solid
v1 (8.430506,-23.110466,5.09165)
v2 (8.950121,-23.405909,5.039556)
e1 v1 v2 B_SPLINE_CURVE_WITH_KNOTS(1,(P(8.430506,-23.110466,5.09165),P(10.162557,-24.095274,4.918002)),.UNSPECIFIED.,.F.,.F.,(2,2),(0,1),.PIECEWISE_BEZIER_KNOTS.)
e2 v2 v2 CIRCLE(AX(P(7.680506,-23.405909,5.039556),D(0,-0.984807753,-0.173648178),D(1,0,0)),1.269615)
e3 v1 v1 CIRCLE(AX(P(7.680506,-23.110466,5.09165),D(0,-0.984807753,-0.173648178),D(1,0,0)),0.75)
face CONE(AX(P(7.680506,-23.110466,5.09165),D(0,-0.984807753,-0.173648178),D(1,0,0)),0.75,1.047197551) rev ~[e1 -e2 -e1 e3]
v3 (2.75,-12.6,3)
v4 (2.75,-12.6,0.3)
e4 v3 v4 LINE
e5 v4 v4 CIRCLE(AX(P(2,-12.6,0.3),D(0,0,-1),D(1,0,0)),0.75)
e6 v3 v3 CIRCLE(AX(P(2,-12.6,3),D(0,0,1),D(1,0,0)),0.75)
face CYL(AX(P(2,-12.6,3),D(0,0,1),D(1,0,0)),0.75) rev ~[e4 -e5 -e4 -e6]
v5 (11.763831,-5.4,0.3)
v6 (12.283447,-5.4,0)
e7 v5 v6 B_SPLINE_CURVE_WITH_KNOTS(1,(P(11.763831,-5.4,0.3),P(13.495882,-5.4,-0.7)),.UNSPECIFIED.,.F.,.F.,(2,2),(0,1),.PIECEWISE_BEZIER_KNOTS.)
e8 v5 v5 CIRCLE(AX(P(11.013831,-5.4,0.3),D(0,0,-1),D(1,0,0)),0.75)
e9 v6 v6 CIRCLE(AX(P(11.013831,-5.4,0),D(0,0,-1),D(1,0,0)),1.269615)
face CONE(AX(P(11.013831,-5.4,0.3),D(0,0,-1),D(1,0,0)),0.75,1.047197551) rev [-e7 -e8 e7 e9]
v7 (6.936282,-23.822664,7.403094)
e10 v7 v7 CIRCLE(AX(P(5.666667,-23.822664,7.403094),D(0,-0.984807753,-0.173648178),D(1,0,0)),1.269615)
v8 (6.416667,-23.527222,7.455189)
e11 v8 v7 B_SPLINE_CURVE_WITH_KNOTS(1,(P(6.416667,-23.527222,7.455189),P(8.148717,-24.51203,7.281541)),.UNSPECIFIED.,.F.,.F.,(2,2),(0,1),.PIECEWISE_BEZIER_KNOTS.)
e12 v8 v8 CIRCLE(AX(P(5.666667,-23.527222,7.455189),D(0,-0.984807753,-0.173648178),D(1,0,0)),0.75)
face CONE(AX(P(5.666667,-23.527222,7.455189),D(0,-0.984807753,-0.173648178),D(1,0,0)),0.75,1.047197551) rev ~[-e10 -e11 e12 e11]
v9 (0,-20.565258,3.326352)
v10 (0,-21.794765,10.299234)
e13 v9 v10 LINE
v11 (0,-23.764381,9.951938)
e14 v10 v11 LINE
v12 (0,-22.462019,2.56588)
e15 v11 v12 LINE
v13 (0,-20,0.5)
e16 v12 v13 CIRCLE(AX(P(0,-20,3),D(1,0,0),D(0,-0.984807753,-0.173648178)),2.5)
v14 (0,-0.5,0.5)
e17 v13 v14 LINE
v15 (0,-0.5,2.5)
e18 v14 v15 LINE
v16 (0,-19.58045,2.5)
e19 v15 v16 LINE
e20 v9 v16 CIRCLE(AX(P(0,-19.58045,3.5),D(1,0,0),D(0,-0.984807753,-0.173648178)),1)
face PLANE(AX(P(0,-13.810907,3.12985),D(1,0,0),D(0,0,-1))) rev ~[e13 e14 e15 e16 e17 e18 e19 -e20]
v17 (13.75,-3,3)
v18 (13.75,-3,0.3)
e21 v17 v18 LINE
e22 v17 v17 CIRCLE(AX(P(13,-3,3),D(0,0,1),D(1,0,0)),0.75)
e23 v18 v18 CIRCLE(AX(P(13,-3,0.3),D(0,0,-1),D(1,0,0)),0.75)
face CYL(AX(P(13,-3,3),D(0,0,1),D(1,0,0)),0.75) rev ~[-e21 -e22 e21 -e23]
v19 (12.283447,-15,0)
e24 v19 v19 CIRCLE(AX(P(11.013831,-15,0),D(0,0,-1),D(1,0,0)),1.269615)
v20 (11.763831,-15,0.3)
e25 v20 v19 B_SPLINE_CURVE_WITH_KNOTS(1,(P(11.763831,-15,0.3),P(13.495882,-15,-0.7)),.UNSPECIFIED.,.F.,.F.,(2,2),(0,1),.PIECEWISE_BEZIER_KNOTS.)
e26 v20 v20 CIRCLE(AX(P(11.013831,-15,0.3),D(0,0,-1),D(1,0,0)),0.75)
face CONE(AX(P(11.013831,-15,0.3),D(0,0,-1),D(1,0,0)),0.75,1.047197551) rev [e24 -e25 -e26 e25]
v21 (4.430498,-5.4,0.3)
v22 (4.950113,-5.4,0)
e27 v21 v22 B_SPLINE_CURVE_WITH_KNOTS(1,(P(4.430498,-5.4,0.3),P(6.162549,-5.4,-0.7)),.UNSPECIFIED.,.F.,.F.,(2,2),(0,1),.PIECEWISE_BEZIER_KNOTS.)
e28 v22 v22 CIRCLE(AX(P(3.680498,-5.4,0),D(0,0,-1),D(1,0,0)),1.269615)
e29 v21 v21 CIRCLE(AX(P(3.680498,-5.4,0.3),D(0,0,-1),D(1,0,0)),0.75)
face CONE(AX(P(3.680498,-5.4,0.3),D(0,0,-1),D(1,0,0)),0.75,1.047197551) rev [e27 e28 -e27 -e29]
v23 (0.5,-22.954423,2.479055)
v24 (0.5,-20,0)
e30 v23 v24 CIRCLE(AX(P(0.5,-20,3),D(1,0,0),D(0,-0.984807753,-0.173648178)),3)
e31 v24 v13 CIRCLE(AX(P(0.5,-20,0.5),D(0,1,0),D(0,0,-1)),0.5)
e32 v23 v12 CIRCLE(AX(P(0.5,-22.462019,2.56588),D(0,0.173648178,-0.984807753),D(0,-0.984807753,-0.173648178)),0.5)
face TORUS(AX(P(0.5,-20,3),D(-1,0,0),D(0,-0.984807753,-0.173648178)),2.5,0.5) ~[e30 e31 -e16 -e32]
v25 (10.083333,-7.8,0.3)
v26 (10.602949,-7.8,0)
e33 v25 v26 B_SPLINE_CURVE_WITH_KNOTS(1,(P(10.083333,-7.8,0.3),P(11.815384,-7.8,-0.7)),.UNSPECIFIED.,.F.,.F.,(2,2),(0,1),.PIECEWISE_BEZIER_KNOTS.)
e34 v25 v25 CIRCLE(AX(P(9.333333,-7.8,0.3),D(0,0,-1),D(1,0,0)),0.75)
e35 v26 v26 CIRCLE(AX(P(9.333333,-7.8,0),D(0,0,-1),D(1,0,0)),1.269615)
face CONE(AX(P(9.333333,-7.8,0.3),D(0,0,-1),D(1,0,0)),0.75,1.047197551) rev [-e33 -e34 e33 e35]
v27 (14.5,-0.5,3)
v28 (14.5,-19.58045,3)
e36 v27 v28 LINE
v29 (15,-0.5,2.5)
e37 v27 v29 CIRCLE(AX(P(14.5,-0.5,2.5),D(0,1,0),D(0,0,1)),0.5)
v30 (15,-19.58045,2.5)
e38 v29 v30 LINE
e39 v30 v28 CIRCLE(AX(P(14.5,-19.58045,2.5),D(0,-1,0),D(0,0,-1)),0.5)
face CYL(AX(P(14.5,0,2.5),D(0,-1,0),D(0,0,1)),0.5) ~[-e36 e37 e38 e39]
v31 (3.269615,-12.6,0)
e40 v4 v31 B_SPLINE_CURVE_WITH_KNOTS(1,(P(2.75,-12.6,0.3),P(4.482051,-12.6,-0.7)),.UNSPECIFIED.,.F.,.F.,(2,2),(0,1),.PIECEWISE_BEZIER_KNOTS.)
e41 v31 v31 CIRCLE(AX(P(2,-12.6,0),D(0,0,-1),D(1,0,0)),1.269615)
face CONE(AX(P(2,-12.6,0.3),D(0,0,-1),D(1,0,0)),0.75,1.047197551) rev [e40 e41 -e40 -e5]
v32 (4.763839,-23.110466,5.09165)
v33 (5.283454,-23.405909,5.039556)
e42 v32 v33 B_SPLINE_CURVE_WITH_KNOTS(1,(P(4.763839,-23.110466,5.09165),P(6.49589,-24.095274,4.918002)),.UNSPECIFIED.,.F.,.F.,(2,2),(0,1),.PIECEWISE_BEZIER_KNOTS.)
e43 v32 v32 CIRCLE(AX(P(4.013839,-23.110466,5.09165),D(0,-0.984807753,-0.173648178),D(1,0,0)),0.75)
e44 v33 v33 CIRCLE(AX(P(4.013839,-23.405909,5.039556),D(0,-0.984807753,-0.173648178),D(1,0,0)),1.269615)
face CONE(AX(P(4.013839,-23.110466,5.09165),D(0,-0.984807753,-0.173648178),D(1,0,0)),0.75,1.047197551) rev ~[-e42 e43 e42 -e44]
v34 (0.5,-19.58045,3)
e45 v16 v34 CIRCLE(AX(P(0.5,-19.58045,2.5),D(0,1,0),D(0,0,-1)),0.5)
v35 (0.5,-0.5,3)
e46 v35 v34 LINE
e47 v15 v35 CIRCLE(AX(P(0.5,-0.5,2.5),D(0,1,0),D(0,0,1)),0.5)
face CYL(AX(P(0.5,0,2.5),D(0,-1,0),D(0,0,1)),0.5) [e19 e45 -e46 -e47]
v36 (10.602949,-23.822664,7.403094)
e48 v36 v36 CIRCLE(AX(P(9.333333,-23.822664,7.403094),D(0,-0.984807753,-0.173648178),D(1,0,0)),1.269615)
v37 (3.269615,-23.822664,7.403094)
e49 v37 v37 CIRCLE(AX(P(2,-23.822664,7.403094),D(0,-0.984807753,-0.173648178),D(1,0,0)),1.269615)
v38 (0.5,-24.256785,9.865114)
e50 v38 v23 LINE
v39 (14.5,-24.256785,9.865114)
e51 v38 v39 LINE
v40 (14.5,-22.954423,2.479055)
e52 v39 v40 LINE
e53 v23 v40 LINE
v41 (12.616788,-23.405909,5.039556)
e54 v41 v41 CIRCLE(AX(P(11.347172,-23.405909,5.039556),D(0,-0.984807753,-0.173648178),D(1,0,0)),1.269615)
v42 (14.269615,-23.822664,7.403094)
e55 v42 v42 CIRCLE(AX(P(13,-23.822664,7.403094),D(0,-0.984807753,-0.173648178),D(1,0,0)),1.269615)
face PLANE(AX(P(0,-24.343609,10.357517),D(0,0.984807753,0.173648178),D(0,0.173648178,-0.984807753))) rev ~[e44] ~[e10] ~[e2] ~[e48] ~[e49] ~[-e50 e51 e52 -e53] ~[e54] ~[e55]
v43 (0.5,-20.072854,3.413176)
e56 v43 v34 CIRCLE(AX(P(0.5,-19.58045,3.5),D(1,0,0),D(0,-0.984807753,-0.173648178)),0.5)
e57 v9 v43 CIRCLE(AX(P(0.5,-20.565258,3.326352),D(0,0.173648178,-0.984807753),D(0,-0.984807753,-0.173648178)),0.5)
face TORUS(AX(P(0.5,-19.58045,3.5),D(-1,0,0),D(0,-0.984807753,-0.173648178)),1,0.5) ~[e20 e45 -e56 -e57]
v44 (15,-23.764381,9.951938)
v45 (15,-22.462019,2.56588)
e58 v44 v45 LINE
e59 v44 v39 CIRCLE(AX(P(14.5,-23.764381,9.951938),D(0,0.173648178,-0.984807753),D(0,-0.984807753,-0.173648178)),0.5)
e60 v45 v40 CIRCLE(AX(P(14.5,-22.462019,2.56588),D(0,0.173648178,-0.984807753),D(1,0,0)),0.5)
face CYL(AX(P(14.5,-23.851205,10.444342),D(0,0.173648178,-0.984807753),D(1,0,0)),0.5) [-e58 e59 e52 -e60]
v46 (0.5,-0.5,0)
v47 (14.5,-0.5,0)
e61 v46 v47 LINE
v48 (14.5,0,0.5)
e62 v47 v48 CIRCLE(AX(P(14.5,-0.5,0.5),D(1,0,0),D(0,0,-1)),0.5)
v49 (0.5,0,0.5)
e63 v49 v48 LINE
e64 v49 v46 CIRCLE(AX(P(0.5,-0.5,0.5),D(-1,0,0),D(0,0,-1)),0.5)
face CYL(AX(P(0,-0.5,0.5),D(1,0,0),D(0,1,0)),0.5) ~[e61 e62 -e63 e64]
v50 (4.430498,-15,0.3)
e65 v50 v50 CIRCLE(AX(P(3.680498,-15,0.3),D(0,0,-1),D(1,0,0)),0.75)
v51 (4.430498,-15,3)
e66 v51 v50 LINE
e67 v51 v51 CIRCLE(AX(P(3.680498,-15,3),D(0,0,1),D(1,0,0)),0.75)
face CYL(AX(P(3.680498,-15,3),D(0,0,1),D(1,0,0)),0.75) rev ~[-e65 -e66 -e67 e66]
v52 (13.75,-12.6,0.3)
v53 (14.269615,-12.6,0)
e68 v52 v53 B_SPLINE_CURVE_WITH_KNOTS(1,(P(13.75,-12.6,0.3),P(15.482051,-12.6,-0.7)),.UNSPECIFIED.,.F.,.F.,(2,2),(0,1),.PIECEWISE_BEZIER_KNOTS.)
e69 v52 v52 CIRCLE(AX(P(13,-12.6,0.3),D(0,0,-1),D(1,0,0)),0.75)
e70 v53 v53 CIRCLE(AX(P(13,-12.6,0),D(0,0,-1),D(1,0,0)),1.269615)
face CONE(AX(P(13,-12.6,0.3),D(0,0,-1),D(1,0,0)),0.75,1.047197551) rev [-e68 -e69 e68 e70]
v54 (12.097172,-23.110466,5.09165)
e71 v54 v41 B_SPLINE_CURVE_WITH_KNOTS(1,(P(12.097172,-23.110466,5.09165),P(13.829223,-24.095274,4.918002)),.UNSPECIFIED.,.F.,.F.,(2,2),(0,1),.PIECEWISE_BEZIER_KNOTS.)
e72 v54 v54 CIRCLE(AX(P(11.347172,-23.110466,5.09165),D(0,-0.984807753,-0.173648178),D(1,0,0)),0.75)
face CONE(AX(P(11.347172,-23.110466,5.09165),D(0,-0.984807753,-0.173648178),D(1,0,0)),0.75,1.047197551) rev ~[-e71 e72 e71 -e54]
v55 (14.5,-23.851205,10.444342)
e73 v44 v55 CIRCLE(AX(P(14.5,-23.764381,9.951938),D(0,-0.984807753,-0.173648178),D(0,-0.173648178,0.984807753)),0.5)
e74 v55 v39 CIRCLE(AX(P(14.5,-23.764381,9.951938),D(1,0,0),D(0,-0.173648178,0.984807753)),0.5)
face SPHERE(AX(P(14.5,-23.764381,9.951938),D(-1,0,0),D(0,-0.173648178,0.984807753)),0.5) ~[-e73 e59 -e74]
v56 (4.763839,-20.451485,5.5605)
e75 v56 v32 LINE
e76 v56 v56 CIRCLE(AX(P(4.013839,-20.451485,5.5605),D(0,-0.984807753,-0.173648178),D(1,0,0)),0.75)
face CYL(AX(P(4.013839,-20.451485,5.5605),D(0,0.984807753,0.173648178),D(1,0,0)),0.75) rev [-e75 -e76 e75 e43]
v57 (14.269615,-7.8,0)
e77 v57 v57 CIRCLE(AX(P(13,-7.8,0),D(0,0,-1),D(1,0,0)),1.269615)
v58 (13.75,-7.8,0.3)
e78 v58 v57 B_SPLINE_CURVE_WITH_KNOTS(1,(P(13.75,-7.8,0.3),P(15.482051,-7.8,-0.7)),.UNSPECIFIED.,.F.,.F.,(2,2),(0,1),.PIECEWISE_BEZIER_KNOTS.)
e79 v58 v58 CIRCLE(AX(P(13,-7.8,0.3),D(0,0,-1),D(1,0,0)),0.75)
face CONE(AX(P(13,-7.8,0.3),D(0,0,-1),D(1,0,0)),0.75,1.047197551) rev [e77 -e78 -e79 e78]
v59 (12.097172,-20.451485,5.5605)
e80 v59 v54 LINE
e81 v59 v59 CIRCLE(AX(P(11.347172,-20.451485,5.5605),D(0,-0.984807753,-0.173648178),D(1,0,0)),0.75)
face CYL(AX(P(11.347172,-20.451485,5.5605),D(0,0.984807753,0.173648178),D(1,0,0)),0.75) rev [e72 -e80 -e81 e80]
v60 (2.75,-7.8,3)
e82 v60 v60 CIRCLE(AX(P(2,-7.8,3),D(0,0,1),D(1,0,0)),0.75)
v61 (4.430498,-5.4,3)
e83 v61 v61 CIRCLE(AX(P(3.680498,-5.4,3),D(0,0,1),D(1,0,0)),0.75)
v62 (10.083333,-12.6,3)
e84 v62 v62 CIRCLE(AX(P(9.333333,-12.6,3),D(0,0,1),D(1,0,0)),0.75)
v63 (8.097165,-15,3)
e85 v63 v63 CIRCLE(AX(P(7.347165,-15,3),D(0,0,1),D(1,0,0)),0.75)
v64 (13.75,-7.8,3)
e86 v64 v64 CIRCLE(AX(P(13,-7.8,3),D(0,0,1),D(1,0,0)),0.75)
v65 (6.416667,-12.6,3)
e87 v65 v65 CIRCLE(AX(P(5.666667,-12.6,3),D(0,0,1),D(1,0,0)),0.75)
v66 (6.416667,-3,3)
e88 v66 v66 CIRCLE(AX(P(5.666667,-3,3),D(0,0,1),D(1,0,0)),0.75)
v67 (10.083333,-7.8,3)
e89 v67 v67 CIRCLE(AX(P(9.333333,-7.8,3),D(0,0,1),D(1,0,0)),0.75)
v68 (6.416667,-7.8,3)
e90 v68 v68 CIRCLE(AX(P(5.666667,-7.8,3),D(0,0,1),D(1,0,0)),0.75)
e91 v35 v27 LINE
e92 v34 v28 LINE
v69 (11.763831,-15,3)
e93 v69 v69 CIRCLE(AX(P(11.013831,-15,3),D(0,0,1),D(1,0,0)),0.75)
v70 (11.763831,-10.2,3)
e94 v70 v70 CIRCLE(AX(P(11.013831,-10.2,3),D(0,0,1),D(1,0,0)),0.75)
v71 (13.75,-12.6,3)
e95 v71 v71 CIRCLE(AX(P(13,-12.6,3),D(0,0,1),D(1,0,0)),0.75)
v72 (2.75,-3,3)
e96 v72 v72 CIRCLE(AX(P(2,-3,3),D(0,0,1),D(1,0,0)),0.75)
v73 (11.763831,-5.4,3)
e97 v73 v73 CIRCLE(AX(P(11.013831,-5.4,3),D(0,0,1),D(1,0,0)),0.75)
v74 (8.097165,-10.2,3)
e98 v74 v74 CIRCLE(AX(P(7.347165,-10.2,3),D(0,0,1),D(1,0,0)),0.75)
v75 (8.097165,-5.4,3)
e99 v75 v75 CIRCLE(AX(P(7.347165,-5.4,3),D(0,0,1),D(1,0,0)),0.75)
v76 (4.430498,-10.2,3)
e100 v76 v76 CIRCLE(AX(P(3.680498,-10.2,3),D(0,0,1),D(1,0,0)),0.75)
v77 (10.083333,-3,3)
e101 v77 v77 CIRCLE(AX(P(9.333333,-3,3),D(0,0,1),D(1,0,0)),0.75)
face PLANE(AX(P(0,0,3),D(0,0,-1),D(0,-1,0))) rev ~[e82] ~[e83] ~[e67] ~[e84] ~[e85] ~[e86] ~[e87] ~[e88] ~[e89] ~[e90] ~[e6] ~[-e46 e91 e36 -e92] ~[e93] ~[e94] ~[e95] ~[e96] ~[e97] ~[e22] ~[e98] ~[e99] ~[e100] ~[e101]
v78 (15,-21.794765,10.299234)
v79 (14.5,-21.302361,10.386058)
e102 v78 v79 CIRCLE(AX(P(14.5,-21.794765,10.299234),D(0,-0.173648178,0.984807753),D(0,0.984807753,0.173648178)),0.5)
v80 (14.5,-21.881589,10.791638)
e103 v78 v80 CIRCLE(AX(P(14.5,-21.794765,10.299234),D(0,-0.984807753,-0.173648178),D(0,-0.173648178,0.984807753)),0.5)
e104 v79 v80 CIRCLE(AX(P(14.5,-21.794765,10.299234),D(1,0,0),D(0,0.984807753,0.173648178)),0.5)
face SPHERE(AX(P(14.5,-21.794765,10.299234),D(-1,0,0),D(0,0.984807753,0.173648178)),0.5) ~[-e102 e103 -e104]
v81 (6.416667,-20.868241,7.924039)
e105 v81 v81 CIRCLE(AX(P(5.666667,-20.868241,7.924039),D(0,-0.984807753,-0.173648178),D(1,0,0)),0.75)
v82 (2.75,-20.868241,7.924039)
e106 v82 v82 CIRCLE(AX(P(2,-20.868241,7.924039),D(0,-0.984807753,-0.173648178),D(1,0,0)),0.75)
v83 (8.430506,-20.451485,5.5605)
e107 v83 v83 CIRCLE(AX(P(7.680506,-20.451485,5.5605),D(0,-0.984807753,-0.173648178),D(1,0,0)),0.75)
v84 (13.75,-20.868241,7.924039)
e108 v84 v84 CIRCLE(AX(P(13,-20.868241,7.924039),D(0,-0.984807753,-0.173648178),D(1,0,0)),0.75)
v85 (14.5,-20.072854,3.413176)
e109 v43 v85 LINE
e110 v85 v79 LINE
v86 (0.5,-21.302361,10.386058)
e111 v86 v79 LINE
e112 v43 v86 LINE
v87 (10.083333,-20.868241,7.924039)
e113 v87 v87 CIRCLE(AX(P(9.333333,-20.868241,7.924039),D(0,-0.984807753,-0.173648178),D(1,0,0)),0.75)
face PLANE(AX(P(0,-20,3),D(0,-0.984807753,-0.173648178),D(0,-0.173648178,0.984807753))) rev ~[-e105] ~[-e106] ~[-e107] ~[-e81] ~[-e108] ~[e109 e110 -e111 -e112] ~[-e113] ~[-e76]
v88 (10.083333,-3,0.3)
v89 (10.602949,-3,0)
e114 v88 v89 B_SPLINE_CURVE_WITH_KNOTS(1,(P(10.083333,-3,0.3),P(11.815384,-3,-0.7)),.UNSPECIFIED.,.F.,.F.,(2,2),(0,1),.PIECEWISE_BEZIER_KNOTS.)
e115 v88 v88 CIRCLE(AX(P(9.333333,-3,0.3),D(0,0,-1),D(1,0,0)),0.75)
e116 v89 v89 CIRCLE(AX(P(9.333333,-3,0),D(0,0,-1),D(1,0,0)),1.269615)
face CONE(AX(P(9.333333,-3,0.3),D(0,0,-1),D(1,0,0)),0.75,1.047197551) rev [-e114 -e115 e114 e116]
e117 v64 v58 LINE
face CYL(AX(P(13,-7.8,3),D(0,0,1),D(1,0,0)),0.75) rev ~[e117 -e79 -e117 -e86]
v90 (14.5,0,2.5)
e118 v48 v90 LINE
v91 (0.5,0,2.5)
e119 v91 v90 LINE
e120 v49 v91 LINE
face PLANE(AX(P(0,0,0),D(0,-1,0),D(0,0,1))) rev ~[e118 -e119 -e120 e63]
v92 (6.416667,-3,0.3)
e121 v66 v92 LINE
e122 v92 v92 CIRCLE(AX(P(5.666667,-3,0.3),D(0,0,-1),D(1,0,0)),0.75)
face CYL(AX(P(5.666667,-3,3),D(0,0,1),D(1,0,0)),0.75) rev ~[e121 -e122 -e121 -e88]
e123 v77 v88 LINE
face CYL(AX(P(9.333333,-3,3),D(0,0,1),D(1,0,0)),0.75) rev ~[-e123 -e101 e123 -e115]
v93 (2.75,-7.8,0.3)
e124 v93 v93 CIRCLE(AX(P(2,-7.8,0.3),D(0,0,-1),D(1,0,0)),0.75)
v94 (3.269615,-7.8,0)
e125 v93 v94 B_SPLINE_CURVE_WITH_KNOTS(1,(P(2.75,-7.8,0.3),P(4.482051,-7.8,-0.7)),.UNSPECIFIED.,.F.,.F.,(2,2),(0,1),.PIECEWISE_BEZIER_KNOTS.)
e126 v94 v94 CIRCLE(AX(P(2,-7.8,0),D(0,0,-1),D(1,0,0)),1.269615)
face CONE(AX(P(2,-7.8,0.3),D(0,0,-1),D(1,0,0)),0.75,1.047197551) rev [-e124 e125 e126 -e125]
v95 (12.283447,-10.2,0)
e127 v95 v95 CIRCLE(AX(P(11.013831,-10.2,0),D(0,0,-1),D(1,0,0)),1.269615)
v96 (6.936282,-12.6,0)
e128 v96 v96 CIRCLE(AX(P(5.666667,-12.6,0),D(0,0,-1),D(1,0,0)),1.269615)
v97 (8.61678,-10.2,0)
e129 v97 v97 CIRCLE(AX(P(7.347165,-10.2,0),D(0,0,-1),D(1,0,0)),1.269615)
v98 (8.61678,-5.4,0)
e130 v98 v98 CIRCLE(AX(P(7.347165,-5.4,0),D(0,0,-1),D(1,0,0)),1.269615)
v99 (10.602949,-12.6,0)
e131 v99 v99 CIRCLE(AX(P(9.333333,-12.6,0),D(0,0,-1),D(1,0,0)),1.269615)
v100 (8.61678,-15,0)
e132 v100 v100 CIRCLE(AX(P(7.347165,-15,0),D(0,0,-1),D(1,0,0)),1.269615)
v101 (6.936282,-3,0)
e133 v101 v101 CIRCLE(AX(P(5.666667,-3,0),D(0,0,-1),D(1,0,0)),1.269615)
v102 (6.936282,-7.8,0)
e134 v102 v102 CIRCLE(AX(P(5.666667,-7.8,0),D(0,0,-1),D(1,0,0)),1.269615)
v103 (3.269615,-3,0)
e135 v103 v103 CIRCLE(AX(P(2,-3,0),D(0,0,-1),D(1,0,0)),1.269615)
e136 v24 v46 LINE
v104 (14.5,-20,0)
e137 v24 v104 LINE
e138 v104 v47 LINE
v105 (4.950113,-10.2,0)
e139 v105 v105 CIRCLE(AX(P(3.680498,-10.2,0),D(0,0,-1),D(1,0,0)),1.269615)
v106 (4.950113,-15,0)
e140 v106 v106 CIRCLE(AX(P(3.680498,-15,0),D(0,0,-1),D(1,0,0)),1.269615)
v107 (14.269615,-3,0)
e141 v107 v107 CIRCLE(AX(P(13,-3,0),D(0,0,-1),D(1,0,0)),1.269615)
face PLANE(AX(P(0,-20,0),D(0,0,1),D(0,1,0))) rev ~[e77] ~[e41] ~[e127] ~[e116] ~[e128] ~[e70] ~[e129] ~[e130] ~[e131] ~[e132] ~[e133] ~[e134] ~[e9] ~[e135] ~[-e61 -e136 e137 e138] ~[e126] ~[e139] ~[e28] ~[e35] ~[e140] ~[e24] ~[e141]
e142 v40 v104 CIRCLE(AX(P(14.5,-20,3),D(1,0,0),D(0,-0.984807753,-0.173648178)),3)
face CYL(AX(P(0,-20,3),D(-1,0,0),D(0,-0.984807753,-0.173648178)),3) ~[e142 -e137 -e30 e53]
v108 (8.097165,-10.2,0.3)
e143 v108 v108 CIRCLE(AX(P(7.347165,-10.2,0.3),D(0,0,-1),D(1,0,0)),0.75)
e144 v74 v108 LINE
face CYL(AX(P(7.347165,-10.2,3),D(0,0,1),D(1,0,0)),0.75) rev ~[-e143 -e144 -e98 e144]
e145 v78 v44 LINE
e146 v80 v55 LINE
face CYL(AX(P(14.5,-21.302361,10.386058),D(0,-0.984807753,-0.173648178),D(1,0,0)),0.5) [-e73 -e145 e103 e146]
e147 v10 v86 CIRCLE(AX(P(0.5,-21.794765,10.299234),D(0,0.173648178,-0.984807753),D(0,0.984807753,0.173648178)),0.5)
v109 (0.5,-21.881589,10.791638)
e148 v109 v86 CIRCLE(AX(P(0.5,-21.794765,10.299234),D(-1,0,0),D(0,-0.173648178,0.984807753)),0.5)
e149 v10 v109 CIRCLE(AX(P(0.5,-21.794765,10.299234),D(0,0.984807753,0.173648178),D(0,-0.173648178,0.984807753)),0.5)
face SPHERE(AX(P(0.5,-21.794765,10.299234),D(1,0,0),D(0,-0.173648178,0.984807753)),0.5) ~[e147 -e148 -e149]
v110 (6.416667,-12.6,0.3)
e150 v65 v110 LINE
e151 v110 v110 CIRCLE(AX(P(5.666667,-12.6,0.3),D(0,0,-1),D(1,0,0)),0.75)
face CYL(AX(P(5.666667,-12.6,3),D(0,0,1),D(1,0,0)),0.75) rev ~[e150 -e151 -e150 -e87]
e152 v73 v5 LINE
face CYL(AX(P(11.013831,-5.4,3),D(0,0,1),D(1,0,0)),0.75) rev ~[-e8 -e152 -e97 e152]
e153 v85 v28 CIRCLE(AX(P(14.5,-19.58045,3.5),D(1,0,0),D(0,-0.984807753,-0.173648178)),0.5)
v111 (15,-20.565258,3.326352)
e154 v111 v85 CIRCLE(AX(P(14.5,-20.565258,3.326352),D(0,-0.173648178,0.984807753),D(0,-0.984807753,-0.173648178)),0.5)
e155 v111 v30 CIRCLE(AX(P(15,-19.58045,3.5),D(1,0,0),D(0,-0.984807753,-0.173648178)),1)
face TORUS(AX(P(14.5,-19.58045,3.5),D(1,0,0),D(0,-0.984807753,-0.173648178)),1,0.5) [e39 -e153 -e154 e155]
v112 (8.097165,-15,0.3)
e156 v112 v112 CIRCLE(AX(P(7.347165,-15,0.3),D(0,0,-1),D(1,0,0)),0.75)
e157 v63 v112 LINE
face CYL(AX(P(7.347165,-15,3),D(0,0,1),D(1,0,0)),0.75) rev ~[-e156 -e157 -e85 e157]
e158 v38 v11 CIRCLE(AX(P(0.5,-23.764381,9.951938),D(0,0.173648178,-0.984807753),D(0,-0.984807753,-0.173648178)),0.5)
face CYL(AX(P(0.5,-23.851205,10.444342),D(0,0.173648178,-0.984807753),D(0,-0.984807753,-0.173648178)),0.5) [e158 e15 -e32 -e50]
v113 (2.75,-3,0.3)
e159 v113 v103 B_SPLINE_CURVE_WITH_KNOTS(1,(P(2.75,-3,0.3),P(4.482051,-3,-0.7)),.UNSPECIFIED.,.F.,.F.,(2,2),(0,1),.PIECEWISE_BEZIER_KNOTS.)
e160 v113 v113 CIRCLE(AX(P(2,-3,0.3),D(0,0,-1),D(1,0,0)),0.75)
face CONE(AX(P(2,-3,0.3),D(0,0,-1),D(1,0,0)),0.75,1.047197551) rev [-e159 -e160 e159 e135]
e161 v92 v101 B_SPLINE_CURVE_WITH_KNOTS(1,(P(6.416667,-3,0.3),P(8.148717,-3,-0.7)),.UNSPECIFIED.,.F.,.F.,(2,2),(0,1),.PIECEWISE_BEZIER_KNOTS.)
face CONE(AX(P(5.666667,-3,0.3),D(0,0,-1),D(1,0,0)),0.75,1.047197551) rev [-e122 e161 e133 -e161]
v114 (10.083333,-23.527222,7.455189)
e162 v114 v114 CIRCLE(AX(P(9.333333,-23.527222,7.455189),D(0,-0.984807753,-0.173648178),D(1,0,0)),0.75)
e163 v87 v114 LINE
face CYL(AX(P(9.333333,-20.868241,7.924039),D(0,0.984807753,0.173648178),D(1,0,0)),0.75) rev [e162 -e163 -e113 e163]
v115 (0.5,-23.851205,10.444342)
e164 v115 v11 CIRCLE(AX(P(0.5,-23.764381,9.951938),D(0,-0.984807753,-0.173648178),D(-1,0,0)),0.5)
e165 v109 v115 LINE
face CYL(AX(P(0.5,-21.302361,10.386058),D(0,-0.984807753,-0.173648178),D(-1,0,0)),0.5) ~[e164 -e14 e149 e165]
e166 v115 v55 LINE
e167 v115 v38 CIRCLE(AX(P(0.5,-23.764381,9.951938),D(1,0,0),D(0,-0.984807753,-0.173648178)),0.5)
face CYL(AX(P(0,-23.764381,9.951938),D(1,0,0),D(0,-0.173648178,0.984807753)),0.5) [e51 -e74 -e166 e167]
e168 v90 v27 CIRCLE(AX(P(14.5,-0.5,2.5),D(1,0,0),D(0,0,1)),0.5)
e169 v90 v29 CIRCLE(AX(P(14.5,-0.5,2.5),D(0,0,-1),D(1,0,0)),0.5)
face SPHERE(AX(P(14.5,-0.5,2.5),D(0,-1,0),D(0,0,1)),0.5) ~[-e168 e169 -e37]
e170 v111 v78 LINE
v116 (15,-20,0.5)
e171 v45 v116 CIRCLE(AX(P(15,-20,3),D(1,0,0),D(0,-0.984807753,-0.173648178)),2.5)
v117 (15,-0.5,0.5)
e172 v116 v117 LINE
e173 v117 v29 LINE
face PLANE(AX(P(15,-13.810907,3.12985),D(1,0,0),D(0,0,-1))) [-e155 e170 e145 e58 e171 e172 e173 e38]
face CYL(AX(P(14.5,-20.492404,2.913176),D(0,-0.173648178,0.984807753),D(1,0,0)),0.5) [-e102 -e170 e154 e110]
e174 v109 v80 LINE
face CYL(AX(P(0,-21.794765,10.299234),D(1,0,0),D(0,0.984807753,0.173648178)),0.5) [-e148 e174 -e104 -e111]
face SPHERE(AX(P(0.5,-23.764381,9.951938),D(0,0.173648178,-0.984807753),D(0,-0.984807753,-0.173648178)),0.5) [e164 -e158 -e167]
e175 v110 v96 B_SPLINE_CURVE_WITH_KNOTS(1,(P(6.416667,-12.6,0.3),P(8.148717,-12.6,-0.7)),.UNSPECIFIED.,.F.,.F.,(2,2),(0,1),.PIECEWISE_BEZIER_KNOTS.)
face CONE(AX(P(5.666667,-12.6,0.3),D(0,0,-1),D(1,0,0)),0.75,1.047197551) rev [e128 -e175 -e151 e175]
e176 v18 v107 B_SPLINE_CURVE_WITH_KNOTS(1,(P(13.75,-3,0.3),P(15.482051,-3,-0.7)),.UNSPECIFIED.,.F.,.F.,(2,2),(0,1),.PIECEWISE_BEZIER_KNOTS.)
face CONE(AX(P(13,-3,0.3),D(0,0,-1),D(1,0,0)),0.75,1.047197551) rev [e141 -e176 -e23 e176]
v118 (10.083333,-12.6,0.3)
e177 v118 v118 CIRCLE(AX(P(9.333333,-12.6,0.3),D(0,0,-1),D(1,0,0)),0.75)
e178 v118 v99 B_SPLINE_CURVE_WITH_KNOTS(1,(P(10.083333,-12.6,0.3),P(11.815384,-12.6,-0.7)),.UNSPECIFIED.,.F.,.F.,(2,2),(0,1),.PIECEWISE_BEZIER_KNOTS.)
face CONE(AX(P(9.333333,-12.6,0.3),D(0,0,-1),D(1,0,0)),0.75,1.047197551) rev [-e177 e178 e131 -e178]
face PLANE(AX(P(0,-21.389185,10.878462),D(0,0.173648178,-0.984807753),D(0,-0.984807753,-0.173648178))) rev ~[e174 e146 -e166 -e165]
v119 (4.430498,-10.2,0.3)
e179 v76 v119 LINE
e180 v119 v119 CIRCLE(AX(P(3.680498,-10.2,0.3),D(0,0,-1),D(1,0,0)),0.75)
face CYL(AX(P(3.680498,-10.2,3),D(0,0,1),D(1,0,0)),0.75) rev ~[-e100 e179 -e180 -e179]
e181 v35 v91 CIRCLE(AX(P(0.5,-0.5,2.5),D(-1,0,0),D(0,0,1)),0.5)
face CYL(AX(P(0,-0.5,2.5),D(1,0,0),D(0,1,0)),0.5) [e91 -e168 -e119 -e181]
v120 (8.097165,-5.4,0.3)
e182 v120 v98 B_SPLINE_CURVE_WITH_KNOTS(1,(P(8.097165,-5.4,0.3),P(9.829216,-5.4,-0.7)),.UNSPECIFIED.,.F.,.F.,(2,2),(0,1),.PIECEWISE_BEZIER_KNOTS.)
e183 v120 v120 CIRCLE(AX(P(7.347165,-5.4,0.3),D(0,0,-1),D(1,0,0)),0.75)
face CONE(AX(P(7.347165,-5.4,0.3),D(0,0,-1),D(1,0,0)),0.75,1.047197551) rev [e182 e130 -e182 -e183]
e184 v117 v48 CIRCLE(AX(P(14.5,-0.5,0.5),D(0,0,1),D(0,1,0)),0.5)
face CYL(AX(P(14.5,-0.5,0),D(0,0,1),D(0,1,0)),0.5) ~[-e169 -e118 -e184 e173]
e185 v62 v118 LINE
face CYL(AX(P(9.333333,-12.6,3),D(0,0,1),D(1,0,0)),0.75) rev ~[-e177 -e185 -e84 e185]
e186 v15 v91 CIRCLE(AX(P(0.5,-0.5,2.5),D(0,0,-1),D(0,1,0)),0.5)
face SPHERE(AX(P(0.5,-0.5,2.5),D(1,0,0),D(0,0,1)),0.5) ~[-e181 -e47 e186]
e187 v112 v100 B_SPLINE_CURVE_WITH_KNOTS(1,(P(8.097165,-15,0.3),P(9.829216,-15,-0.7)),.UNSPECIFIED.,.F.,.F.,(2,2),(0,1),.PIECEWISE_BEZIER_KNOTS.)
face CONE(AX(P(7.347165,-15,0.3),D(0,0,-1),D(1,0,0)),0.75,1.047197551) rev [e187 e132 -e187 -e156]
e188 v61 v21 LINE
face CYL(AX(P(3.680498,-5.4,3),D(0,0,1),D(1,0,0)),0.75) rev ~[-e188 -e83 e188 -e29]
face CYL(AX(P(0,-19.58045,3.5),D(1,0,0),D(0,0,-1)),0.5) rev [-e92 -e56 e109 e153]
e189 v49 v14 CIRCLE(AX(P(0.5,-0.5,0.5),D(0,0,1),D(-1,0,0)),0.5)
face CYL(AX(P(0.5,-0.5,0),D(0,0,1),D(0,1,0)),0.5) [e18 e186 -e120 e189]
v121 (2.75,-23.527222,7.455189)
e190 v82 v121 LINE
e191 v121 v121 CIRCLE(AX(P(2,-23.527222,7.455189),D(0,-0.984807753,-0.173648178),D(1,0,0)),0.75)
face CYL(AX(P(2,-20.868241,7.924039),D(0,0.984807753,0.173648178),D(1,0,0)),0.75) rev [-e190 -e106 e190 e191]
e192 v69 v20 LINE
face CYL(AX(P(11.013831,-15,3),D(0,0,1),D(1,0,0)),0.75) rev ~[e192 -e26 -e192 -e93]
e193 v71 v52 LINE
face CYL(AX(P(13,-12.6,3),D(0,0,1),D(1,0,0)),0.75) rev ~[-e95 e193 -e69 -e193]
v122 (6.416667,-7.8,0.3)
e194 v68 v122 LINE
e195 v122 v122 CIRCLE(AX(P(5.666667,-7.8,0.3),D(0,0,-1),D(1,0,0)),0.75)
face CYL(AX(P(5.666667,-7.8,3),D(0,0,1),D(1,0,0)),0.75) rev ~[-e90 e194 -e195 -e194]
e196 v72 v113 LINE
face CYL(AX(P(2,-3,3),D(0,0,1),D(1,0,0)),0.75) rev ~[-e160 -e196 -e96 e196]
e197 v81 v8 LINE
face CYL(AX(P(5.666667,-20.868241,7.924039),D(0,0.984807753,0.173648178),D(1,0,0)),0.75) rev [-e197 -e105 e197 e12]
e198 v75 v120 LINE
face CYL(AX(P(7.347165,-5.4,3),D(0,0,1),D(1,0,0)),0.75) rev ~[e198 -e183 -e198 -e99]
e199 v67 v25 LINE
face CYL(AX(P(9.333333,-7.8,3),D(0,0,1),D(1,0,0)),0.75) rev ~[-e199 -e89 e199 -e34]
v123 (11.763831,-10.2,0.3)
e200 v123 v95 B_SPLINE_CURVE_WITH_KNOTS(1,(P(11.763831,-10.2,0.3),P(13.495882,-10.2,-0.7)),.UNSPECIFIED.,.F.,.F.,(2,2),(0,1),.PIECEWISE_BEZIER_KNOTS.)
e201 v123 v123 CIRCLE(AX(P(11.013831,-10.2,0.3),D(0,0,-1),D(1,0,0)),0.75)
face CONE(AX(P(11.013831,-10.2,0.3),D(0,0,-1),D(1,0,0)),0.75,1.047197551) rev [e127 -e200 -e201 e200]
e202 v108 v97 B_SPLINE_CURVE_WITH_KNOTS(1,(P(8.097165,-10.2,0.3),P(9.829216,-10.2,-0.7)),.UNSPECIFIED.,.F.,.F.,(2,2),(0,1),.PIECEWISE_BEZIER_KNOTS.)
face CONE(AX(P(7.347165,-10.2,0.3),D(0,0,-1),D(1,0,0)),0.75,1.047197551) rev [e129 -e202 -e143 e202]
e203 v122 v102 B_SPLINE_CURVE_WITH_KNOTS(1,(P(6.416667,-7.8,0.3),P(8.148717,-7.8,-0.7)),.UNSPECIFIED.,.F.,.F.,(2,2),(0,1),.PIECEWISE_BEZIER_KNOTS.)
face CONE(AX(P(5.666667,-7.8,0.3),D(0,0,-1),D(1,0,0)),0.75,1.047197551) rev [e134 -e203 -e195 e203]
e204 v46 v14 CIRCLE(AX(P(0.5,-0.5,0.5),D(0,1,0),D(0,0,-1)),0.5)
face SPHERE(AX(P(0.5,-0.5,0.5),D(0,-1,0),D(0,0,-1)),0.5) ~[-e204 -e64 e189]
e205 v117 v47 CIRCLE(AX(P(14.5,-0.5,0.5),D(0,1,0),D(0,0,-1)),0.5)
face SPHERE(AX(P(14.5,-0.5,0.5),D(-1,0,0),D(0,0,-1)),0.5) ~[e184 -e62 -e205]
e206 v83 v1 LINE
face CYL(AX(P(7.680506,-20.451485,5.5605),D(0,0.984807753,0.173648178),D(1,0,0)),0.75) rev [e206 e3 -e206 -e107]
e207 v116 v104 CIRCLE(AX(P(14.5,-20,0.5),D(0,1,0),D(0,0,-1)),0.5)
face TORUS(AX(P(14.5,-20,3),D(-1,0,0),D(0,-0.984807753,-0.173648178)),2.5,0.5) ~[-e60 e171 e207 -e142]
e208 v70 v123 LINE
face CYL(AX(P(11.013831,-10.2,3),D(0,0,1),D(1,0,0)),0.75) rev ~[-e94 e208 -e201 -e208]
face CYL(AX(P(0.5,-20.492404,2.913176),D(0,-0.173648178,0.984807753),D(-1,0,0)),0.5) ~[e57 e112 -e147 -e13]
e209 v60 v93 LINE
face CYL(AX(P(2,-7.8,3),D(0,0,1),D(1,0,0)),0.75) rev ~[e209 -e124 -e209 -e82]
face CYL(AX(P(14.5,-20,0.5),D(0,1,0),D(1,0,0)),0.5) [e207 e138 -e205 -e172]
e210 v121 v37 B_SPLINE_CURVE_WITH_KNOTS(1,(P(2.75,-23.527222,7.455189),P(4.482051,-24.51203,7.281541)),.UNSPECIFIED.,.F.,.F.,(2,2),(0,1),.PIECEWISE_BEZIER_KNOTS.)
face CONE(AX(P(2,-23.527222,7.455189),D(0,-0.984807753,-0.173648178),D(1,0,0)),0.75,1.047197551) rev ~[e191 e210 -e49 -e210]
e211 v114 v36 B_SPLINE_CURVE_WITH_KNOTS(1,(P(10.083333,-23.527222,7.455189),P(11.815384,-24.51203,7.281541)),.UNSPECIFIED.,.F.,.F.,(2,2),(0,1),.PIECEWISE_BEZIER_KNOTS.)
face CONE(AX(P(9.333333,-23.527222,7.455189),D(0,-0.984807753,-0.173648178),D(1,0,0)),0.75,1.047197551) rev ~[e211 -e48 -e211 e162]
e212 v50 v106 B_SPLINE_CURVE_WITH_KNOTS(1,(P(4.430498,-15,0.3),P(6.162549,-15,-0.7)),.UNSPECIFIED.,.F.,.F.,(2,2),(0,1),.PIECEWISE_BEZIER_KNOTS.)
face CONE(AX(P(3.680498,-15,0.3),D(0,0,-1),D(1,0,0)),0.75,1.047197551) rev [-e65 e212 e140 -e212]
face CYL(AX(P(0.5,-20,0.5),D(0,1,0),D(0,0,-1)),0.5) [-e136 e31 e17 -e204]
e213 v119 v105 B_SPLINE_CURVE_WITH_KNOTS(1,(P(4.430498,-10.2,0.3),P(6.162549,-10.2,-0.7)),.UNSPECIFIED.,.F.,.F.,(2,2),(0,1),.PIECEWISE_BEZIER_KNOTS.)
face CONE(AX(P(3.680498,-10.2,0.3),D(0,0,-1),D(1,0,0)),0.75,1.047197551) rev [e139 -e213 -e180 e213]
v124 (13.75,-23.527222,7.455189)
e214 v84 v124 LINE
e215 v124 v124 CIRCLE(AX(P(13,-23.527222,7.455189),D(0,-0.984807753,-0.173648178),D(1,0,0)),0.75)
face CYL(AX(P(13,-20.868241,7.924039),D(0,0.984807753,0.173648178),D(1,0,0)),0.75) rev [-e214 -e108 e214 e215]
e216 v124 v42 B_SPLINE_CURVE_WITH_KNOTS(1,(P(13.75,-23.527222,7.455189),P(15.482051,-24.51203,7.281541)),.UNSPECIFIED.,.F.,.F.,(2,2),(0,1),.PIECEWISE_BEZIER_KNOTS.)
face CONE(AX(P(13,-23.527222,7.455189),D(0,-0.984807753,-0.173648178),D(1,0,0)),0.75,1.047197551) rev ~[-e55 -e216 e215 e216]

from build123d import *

# Parameters (mm, degrees)
EXTRUDE_1_DEPTH     = 15
SKETCH_2_R          = 0.75
CUT_EXTRUDE_1_DEPTH = 15
SKETCH_3_R          = 0.75
CUT_EXTRUDE_2_DEPTH = 15
CUT_EXTRUDE_START   = -2.7
SKETCH_2_2_R        = 0.75
CUT_EXTRUDE_3_DEPTH = 1
CUT_EXTRUDE_3_TAPER = -60
CUT_EXTRUDE_START_2 = 2.7
SKETCH_3_2_R        = 0.75
CUT_EXTRUDE_4_DEPTH = 1
CUT_EXTRUDE_4_TAPER = -60
FILLET_1_R          = 0.5


with BuildPart() as part:
    # Sketch 1 → Extrude 1 (new body)
    with BuildSketch(Plane(origin=(0, 0, 0), x_dir=(0, 0, -1), z_dir=(1, 0, 0))):
        with BuildLine():
            Line((0, 0), (-3, 0))
            Line((-3, 0), (-3, -20))
            Line((-3, -20), (-10.878462024, -21.389185421))
            Line((-10.878462024, -21.389185421), (-10.357517491, -24.34360868))
            Line((-10.357517491, -24.34360868), (-2.479055467, -22.954423259))
            ThreePointArc((-2.479055467, -22.954423259), (-0.701866671, -21.928362829), (0, -20))
            Line((0, -20), (0, 0))
        make_face()
    extrude(amount=EXTRUDE_1_DEPTH)

    # Sketch 2 → Cut-Extrude 1 (cut)
    with BuildSketch(Plane.XY.offset(3)):
        with Locations((2, -3)):
            Circle(SKETCH_2_R)
        with Locations((5.666666667, -3)):
            Circle(SKETCH_2_R)
        with Locations((9.333333333, -3)):
            Circle(SKETCH_2_R)
        with Locations((13, -3)):
            Circle(SKETCH_2_R)
        with Locations((3.680498092, -5.4)):
            Circle(SKETCH_2_R)
        with Locations((7.347164758, -5.4)):
            Circle(SKETCH_2_R)
        with Locations((11.013831425, -5.4)):
            Circle(SKETCH_2_R)
        with Locations((2, -7.8)):
            Circle(SKETCH_2_R)
        with Locations((5.666666667, -7.8)):
            Circle(SKETCH_2_R)
        with Locations((3.680498092, -10.2)):
            Circle(SKETCH_2_R)
        with Locations((7.347164758, -10.2)):
            Circle(SKETCH_2_R)
        with Locations((9.333333333, -7.8)):
            Circle(SKETCH_2_R)
        with Locations((11.013831425, -10.2)):
            Circle(SKETCH_2_R)
        with Locations((13, -7.8)):
            Circle(SKETCH_2_R)
        with Locations((2, -12.6)):
            Circle(SKETCH_2_R)
        with Locations((5.666666667, -12.6)):
            Circle(SKETCH_2_R)
        with Locations((3.680498092, -15)):
            Circle(SKETCH_2_R)
        with Locations((7.347164758, -15)):
            Circle(SKETCH_2_R)
        with Locations((9.333333333, -12.6)):
            Circle(SKETCH_2_R)
        with Locations((11.013831425, -15)):
            Circle(SKETCH_2_R)
        with Locations((13, -12.6)):
            Circle(SKETCH_2_R)
    extrude(amount=-CUT_EXTRUDE_1_DEPTH, mode=Mode.SUBTRACT)

    # Sketch 3 → Cut-Extrude 2 (cut)
    with BuildSketch(Plane(origin=(0, -23.26814693, 21.534582269), x_dir=(1, 0, 0), z_dir=(0, -0.984807753, -0.173648178))):
        with Locations((2, -13.820508076)):
            Circle(SKETCH_3_R)
        with Locations((5.666666667, -13.820508076)):
            Circle(SKETCH_3_R)
        with Locations((9.333333333, -13.820508076)):
            Circle(SKETCH_3_R)
        with Locations((13, -13.820508076)):
            Circle(SKETCH_3_R)
        with Locations((4.013839115, -16.220508076)):
            Circle(SKETCH_3_R)
        with Locations((7.680505781, -16.220508076)):
            Circle(SKETCH_3_R)
        with Locations((11.347172448, -16.220508076)):
            Circle(SKETCH_3_R)
    extrude(amount=CUT_EXTRUDE_2_DEPTH, mode=Mode.SUBTRACT)

    # Sketch 2_2 → Cut-Extrude 3 (cut)
    with BuildSketch(Plane.XY.offset(3).offset(CUT_EXTRUDE_START)):
        with Locations((2, -3)):
            Circle(SKETCH_2_2_R)
        with Locations((5.666666667, -3)):
            Circle(SKETCH_2_2_R)
        with Locations((9.333333333, -3)):
            Circle(SKETCH_2_2_R)
        with Locations((13, -3)):
            Circle(SKETCH_2_2_R)
        with Locations((3.680498092, -5.4)):
            Circle(SKETCH_2_2_R)
        with Locations((7.347164758, -5.4)):
            Circle(SKETCH_2_2_R)
        with Locations((11.013831425, -5.4)):
            Circle(SKETCH_2_2_R)
        with Locations((2, -7.8)):
            Circle(SKETCH_2_2_R)
        with Locations((5.666666667, -7.8)):
            Circle(SKETCH_2_2_R)
        with Locations((3.680498092, -10.2)):
            Circle(SKETCH_2_2_R)
        with Locations((7.347164758, -10.2)):
            Circle(SKETCH_2_2_R)
        with Locations((9.333333333, -7.8)):
            Circle(SKETCH_2_2_R)
        with Locations((11.013831425, -10.2)):
            Circle(SKETCH_2_2_R)
        with Locations((13, -7.8)):
            Circle(SKETCH_2_2_R)
        with Locations((2, -12.6)):
            Circle(SKETCH_2_2_R)
        with Locations((5.666666667, -12.6)):
            Circle(SKETCH_2_2_R)
        with Locations((3.680498092, -15)):
            Circle(SKETCH_2_2_R)
        with Locations((7.347164758, -15)):
            Circle(SKETCH_2_2_R)
        with Locations((9.333333333, -12.6)):
            Circle(SKETCH_2_2_R)
        with Locations((11.013831425, -15)):
            Circle(SKETCH_2_2_R)
        with Locations((13, -12.6)):
            Circle(SKETCH_2_2_R)
    extrude(amount=-CUT_EXTRUDE_3_DEPTH, taper=CUT_EXTRUDE_3_TAPER, mode=Mode.SUBTRACT)

    # Sketch 3_2 → Cut-Extrude 4 (cut)
    with BuildSketch(Plane(origin=(0, -23.26814693, 21.534582269), x_dir=(1, 0, 0), z_dir=(0, -0.984807753, -0.173648178)).offset(CUT_EXTRUDE_START_2)):
        with Locations((2, -13.820508076)):
            Circle(SKETCH_3_2_R)
        with Locations((5.666666667, -13.820508076)):
            Circle(SKETCH_3_2_R)
        with Locations((9.333333333, -13.820508076)):
            Circle(SKETCH_3_2_R)
        with Locations((13, -13.820508076)):
            Circle(SKETCH_3_2_R)
        with Locations((4.013839115, -16.220508076)):
            Circle(SKETCH_3_2_R)
        with Locations((7.680505781, -16.220508076)):
            Circle(SKETCH_3_2_R)
        with Locations((11.347172448, -16.220508076)):
            Circle(SKETCH_3_2_R)
    extrude(amount=CUT_EXTRUDE_4_DEPTH, taper=CUT_EXTRUDE_4_TAPER, mode=Mode.SUBTRACT)

    # Fillet 1
    fillet_1_edges = [part.edges().sort_by_distance(p)[0] for p in [
        (0, -10, 0),
        (7.5, -24.34360868, 10.357517491),
        (15, -10, 3),
        (7.5, -21.389185421, 10.878462024),
        (7.5, -20, 3),
        (7.5, 0, 3),
        (7.5, 0, 0),
        (15, -20.694592711, 6.939231012),
        (15, -22.866397051, 10.617989758),
        (15, -23.64901597, 6.418286479),
        (15, -21.928362829, 0.701866671),
        (15, -10, 0),
        (0, -21.928362829, 0.701866671),
        (0, -23.64901597, 6.418286479),
        (0, -22.866397051, 10.617989758),
        (0, -20.694592711, 6.939231012),
        (15, 0, 1.5),
        (0, -10, 3),
        (0, 0, 1.5),
    ]]
    fillet(fillet_1_edges, radius=FILLET_1_R)


solid = part.part
